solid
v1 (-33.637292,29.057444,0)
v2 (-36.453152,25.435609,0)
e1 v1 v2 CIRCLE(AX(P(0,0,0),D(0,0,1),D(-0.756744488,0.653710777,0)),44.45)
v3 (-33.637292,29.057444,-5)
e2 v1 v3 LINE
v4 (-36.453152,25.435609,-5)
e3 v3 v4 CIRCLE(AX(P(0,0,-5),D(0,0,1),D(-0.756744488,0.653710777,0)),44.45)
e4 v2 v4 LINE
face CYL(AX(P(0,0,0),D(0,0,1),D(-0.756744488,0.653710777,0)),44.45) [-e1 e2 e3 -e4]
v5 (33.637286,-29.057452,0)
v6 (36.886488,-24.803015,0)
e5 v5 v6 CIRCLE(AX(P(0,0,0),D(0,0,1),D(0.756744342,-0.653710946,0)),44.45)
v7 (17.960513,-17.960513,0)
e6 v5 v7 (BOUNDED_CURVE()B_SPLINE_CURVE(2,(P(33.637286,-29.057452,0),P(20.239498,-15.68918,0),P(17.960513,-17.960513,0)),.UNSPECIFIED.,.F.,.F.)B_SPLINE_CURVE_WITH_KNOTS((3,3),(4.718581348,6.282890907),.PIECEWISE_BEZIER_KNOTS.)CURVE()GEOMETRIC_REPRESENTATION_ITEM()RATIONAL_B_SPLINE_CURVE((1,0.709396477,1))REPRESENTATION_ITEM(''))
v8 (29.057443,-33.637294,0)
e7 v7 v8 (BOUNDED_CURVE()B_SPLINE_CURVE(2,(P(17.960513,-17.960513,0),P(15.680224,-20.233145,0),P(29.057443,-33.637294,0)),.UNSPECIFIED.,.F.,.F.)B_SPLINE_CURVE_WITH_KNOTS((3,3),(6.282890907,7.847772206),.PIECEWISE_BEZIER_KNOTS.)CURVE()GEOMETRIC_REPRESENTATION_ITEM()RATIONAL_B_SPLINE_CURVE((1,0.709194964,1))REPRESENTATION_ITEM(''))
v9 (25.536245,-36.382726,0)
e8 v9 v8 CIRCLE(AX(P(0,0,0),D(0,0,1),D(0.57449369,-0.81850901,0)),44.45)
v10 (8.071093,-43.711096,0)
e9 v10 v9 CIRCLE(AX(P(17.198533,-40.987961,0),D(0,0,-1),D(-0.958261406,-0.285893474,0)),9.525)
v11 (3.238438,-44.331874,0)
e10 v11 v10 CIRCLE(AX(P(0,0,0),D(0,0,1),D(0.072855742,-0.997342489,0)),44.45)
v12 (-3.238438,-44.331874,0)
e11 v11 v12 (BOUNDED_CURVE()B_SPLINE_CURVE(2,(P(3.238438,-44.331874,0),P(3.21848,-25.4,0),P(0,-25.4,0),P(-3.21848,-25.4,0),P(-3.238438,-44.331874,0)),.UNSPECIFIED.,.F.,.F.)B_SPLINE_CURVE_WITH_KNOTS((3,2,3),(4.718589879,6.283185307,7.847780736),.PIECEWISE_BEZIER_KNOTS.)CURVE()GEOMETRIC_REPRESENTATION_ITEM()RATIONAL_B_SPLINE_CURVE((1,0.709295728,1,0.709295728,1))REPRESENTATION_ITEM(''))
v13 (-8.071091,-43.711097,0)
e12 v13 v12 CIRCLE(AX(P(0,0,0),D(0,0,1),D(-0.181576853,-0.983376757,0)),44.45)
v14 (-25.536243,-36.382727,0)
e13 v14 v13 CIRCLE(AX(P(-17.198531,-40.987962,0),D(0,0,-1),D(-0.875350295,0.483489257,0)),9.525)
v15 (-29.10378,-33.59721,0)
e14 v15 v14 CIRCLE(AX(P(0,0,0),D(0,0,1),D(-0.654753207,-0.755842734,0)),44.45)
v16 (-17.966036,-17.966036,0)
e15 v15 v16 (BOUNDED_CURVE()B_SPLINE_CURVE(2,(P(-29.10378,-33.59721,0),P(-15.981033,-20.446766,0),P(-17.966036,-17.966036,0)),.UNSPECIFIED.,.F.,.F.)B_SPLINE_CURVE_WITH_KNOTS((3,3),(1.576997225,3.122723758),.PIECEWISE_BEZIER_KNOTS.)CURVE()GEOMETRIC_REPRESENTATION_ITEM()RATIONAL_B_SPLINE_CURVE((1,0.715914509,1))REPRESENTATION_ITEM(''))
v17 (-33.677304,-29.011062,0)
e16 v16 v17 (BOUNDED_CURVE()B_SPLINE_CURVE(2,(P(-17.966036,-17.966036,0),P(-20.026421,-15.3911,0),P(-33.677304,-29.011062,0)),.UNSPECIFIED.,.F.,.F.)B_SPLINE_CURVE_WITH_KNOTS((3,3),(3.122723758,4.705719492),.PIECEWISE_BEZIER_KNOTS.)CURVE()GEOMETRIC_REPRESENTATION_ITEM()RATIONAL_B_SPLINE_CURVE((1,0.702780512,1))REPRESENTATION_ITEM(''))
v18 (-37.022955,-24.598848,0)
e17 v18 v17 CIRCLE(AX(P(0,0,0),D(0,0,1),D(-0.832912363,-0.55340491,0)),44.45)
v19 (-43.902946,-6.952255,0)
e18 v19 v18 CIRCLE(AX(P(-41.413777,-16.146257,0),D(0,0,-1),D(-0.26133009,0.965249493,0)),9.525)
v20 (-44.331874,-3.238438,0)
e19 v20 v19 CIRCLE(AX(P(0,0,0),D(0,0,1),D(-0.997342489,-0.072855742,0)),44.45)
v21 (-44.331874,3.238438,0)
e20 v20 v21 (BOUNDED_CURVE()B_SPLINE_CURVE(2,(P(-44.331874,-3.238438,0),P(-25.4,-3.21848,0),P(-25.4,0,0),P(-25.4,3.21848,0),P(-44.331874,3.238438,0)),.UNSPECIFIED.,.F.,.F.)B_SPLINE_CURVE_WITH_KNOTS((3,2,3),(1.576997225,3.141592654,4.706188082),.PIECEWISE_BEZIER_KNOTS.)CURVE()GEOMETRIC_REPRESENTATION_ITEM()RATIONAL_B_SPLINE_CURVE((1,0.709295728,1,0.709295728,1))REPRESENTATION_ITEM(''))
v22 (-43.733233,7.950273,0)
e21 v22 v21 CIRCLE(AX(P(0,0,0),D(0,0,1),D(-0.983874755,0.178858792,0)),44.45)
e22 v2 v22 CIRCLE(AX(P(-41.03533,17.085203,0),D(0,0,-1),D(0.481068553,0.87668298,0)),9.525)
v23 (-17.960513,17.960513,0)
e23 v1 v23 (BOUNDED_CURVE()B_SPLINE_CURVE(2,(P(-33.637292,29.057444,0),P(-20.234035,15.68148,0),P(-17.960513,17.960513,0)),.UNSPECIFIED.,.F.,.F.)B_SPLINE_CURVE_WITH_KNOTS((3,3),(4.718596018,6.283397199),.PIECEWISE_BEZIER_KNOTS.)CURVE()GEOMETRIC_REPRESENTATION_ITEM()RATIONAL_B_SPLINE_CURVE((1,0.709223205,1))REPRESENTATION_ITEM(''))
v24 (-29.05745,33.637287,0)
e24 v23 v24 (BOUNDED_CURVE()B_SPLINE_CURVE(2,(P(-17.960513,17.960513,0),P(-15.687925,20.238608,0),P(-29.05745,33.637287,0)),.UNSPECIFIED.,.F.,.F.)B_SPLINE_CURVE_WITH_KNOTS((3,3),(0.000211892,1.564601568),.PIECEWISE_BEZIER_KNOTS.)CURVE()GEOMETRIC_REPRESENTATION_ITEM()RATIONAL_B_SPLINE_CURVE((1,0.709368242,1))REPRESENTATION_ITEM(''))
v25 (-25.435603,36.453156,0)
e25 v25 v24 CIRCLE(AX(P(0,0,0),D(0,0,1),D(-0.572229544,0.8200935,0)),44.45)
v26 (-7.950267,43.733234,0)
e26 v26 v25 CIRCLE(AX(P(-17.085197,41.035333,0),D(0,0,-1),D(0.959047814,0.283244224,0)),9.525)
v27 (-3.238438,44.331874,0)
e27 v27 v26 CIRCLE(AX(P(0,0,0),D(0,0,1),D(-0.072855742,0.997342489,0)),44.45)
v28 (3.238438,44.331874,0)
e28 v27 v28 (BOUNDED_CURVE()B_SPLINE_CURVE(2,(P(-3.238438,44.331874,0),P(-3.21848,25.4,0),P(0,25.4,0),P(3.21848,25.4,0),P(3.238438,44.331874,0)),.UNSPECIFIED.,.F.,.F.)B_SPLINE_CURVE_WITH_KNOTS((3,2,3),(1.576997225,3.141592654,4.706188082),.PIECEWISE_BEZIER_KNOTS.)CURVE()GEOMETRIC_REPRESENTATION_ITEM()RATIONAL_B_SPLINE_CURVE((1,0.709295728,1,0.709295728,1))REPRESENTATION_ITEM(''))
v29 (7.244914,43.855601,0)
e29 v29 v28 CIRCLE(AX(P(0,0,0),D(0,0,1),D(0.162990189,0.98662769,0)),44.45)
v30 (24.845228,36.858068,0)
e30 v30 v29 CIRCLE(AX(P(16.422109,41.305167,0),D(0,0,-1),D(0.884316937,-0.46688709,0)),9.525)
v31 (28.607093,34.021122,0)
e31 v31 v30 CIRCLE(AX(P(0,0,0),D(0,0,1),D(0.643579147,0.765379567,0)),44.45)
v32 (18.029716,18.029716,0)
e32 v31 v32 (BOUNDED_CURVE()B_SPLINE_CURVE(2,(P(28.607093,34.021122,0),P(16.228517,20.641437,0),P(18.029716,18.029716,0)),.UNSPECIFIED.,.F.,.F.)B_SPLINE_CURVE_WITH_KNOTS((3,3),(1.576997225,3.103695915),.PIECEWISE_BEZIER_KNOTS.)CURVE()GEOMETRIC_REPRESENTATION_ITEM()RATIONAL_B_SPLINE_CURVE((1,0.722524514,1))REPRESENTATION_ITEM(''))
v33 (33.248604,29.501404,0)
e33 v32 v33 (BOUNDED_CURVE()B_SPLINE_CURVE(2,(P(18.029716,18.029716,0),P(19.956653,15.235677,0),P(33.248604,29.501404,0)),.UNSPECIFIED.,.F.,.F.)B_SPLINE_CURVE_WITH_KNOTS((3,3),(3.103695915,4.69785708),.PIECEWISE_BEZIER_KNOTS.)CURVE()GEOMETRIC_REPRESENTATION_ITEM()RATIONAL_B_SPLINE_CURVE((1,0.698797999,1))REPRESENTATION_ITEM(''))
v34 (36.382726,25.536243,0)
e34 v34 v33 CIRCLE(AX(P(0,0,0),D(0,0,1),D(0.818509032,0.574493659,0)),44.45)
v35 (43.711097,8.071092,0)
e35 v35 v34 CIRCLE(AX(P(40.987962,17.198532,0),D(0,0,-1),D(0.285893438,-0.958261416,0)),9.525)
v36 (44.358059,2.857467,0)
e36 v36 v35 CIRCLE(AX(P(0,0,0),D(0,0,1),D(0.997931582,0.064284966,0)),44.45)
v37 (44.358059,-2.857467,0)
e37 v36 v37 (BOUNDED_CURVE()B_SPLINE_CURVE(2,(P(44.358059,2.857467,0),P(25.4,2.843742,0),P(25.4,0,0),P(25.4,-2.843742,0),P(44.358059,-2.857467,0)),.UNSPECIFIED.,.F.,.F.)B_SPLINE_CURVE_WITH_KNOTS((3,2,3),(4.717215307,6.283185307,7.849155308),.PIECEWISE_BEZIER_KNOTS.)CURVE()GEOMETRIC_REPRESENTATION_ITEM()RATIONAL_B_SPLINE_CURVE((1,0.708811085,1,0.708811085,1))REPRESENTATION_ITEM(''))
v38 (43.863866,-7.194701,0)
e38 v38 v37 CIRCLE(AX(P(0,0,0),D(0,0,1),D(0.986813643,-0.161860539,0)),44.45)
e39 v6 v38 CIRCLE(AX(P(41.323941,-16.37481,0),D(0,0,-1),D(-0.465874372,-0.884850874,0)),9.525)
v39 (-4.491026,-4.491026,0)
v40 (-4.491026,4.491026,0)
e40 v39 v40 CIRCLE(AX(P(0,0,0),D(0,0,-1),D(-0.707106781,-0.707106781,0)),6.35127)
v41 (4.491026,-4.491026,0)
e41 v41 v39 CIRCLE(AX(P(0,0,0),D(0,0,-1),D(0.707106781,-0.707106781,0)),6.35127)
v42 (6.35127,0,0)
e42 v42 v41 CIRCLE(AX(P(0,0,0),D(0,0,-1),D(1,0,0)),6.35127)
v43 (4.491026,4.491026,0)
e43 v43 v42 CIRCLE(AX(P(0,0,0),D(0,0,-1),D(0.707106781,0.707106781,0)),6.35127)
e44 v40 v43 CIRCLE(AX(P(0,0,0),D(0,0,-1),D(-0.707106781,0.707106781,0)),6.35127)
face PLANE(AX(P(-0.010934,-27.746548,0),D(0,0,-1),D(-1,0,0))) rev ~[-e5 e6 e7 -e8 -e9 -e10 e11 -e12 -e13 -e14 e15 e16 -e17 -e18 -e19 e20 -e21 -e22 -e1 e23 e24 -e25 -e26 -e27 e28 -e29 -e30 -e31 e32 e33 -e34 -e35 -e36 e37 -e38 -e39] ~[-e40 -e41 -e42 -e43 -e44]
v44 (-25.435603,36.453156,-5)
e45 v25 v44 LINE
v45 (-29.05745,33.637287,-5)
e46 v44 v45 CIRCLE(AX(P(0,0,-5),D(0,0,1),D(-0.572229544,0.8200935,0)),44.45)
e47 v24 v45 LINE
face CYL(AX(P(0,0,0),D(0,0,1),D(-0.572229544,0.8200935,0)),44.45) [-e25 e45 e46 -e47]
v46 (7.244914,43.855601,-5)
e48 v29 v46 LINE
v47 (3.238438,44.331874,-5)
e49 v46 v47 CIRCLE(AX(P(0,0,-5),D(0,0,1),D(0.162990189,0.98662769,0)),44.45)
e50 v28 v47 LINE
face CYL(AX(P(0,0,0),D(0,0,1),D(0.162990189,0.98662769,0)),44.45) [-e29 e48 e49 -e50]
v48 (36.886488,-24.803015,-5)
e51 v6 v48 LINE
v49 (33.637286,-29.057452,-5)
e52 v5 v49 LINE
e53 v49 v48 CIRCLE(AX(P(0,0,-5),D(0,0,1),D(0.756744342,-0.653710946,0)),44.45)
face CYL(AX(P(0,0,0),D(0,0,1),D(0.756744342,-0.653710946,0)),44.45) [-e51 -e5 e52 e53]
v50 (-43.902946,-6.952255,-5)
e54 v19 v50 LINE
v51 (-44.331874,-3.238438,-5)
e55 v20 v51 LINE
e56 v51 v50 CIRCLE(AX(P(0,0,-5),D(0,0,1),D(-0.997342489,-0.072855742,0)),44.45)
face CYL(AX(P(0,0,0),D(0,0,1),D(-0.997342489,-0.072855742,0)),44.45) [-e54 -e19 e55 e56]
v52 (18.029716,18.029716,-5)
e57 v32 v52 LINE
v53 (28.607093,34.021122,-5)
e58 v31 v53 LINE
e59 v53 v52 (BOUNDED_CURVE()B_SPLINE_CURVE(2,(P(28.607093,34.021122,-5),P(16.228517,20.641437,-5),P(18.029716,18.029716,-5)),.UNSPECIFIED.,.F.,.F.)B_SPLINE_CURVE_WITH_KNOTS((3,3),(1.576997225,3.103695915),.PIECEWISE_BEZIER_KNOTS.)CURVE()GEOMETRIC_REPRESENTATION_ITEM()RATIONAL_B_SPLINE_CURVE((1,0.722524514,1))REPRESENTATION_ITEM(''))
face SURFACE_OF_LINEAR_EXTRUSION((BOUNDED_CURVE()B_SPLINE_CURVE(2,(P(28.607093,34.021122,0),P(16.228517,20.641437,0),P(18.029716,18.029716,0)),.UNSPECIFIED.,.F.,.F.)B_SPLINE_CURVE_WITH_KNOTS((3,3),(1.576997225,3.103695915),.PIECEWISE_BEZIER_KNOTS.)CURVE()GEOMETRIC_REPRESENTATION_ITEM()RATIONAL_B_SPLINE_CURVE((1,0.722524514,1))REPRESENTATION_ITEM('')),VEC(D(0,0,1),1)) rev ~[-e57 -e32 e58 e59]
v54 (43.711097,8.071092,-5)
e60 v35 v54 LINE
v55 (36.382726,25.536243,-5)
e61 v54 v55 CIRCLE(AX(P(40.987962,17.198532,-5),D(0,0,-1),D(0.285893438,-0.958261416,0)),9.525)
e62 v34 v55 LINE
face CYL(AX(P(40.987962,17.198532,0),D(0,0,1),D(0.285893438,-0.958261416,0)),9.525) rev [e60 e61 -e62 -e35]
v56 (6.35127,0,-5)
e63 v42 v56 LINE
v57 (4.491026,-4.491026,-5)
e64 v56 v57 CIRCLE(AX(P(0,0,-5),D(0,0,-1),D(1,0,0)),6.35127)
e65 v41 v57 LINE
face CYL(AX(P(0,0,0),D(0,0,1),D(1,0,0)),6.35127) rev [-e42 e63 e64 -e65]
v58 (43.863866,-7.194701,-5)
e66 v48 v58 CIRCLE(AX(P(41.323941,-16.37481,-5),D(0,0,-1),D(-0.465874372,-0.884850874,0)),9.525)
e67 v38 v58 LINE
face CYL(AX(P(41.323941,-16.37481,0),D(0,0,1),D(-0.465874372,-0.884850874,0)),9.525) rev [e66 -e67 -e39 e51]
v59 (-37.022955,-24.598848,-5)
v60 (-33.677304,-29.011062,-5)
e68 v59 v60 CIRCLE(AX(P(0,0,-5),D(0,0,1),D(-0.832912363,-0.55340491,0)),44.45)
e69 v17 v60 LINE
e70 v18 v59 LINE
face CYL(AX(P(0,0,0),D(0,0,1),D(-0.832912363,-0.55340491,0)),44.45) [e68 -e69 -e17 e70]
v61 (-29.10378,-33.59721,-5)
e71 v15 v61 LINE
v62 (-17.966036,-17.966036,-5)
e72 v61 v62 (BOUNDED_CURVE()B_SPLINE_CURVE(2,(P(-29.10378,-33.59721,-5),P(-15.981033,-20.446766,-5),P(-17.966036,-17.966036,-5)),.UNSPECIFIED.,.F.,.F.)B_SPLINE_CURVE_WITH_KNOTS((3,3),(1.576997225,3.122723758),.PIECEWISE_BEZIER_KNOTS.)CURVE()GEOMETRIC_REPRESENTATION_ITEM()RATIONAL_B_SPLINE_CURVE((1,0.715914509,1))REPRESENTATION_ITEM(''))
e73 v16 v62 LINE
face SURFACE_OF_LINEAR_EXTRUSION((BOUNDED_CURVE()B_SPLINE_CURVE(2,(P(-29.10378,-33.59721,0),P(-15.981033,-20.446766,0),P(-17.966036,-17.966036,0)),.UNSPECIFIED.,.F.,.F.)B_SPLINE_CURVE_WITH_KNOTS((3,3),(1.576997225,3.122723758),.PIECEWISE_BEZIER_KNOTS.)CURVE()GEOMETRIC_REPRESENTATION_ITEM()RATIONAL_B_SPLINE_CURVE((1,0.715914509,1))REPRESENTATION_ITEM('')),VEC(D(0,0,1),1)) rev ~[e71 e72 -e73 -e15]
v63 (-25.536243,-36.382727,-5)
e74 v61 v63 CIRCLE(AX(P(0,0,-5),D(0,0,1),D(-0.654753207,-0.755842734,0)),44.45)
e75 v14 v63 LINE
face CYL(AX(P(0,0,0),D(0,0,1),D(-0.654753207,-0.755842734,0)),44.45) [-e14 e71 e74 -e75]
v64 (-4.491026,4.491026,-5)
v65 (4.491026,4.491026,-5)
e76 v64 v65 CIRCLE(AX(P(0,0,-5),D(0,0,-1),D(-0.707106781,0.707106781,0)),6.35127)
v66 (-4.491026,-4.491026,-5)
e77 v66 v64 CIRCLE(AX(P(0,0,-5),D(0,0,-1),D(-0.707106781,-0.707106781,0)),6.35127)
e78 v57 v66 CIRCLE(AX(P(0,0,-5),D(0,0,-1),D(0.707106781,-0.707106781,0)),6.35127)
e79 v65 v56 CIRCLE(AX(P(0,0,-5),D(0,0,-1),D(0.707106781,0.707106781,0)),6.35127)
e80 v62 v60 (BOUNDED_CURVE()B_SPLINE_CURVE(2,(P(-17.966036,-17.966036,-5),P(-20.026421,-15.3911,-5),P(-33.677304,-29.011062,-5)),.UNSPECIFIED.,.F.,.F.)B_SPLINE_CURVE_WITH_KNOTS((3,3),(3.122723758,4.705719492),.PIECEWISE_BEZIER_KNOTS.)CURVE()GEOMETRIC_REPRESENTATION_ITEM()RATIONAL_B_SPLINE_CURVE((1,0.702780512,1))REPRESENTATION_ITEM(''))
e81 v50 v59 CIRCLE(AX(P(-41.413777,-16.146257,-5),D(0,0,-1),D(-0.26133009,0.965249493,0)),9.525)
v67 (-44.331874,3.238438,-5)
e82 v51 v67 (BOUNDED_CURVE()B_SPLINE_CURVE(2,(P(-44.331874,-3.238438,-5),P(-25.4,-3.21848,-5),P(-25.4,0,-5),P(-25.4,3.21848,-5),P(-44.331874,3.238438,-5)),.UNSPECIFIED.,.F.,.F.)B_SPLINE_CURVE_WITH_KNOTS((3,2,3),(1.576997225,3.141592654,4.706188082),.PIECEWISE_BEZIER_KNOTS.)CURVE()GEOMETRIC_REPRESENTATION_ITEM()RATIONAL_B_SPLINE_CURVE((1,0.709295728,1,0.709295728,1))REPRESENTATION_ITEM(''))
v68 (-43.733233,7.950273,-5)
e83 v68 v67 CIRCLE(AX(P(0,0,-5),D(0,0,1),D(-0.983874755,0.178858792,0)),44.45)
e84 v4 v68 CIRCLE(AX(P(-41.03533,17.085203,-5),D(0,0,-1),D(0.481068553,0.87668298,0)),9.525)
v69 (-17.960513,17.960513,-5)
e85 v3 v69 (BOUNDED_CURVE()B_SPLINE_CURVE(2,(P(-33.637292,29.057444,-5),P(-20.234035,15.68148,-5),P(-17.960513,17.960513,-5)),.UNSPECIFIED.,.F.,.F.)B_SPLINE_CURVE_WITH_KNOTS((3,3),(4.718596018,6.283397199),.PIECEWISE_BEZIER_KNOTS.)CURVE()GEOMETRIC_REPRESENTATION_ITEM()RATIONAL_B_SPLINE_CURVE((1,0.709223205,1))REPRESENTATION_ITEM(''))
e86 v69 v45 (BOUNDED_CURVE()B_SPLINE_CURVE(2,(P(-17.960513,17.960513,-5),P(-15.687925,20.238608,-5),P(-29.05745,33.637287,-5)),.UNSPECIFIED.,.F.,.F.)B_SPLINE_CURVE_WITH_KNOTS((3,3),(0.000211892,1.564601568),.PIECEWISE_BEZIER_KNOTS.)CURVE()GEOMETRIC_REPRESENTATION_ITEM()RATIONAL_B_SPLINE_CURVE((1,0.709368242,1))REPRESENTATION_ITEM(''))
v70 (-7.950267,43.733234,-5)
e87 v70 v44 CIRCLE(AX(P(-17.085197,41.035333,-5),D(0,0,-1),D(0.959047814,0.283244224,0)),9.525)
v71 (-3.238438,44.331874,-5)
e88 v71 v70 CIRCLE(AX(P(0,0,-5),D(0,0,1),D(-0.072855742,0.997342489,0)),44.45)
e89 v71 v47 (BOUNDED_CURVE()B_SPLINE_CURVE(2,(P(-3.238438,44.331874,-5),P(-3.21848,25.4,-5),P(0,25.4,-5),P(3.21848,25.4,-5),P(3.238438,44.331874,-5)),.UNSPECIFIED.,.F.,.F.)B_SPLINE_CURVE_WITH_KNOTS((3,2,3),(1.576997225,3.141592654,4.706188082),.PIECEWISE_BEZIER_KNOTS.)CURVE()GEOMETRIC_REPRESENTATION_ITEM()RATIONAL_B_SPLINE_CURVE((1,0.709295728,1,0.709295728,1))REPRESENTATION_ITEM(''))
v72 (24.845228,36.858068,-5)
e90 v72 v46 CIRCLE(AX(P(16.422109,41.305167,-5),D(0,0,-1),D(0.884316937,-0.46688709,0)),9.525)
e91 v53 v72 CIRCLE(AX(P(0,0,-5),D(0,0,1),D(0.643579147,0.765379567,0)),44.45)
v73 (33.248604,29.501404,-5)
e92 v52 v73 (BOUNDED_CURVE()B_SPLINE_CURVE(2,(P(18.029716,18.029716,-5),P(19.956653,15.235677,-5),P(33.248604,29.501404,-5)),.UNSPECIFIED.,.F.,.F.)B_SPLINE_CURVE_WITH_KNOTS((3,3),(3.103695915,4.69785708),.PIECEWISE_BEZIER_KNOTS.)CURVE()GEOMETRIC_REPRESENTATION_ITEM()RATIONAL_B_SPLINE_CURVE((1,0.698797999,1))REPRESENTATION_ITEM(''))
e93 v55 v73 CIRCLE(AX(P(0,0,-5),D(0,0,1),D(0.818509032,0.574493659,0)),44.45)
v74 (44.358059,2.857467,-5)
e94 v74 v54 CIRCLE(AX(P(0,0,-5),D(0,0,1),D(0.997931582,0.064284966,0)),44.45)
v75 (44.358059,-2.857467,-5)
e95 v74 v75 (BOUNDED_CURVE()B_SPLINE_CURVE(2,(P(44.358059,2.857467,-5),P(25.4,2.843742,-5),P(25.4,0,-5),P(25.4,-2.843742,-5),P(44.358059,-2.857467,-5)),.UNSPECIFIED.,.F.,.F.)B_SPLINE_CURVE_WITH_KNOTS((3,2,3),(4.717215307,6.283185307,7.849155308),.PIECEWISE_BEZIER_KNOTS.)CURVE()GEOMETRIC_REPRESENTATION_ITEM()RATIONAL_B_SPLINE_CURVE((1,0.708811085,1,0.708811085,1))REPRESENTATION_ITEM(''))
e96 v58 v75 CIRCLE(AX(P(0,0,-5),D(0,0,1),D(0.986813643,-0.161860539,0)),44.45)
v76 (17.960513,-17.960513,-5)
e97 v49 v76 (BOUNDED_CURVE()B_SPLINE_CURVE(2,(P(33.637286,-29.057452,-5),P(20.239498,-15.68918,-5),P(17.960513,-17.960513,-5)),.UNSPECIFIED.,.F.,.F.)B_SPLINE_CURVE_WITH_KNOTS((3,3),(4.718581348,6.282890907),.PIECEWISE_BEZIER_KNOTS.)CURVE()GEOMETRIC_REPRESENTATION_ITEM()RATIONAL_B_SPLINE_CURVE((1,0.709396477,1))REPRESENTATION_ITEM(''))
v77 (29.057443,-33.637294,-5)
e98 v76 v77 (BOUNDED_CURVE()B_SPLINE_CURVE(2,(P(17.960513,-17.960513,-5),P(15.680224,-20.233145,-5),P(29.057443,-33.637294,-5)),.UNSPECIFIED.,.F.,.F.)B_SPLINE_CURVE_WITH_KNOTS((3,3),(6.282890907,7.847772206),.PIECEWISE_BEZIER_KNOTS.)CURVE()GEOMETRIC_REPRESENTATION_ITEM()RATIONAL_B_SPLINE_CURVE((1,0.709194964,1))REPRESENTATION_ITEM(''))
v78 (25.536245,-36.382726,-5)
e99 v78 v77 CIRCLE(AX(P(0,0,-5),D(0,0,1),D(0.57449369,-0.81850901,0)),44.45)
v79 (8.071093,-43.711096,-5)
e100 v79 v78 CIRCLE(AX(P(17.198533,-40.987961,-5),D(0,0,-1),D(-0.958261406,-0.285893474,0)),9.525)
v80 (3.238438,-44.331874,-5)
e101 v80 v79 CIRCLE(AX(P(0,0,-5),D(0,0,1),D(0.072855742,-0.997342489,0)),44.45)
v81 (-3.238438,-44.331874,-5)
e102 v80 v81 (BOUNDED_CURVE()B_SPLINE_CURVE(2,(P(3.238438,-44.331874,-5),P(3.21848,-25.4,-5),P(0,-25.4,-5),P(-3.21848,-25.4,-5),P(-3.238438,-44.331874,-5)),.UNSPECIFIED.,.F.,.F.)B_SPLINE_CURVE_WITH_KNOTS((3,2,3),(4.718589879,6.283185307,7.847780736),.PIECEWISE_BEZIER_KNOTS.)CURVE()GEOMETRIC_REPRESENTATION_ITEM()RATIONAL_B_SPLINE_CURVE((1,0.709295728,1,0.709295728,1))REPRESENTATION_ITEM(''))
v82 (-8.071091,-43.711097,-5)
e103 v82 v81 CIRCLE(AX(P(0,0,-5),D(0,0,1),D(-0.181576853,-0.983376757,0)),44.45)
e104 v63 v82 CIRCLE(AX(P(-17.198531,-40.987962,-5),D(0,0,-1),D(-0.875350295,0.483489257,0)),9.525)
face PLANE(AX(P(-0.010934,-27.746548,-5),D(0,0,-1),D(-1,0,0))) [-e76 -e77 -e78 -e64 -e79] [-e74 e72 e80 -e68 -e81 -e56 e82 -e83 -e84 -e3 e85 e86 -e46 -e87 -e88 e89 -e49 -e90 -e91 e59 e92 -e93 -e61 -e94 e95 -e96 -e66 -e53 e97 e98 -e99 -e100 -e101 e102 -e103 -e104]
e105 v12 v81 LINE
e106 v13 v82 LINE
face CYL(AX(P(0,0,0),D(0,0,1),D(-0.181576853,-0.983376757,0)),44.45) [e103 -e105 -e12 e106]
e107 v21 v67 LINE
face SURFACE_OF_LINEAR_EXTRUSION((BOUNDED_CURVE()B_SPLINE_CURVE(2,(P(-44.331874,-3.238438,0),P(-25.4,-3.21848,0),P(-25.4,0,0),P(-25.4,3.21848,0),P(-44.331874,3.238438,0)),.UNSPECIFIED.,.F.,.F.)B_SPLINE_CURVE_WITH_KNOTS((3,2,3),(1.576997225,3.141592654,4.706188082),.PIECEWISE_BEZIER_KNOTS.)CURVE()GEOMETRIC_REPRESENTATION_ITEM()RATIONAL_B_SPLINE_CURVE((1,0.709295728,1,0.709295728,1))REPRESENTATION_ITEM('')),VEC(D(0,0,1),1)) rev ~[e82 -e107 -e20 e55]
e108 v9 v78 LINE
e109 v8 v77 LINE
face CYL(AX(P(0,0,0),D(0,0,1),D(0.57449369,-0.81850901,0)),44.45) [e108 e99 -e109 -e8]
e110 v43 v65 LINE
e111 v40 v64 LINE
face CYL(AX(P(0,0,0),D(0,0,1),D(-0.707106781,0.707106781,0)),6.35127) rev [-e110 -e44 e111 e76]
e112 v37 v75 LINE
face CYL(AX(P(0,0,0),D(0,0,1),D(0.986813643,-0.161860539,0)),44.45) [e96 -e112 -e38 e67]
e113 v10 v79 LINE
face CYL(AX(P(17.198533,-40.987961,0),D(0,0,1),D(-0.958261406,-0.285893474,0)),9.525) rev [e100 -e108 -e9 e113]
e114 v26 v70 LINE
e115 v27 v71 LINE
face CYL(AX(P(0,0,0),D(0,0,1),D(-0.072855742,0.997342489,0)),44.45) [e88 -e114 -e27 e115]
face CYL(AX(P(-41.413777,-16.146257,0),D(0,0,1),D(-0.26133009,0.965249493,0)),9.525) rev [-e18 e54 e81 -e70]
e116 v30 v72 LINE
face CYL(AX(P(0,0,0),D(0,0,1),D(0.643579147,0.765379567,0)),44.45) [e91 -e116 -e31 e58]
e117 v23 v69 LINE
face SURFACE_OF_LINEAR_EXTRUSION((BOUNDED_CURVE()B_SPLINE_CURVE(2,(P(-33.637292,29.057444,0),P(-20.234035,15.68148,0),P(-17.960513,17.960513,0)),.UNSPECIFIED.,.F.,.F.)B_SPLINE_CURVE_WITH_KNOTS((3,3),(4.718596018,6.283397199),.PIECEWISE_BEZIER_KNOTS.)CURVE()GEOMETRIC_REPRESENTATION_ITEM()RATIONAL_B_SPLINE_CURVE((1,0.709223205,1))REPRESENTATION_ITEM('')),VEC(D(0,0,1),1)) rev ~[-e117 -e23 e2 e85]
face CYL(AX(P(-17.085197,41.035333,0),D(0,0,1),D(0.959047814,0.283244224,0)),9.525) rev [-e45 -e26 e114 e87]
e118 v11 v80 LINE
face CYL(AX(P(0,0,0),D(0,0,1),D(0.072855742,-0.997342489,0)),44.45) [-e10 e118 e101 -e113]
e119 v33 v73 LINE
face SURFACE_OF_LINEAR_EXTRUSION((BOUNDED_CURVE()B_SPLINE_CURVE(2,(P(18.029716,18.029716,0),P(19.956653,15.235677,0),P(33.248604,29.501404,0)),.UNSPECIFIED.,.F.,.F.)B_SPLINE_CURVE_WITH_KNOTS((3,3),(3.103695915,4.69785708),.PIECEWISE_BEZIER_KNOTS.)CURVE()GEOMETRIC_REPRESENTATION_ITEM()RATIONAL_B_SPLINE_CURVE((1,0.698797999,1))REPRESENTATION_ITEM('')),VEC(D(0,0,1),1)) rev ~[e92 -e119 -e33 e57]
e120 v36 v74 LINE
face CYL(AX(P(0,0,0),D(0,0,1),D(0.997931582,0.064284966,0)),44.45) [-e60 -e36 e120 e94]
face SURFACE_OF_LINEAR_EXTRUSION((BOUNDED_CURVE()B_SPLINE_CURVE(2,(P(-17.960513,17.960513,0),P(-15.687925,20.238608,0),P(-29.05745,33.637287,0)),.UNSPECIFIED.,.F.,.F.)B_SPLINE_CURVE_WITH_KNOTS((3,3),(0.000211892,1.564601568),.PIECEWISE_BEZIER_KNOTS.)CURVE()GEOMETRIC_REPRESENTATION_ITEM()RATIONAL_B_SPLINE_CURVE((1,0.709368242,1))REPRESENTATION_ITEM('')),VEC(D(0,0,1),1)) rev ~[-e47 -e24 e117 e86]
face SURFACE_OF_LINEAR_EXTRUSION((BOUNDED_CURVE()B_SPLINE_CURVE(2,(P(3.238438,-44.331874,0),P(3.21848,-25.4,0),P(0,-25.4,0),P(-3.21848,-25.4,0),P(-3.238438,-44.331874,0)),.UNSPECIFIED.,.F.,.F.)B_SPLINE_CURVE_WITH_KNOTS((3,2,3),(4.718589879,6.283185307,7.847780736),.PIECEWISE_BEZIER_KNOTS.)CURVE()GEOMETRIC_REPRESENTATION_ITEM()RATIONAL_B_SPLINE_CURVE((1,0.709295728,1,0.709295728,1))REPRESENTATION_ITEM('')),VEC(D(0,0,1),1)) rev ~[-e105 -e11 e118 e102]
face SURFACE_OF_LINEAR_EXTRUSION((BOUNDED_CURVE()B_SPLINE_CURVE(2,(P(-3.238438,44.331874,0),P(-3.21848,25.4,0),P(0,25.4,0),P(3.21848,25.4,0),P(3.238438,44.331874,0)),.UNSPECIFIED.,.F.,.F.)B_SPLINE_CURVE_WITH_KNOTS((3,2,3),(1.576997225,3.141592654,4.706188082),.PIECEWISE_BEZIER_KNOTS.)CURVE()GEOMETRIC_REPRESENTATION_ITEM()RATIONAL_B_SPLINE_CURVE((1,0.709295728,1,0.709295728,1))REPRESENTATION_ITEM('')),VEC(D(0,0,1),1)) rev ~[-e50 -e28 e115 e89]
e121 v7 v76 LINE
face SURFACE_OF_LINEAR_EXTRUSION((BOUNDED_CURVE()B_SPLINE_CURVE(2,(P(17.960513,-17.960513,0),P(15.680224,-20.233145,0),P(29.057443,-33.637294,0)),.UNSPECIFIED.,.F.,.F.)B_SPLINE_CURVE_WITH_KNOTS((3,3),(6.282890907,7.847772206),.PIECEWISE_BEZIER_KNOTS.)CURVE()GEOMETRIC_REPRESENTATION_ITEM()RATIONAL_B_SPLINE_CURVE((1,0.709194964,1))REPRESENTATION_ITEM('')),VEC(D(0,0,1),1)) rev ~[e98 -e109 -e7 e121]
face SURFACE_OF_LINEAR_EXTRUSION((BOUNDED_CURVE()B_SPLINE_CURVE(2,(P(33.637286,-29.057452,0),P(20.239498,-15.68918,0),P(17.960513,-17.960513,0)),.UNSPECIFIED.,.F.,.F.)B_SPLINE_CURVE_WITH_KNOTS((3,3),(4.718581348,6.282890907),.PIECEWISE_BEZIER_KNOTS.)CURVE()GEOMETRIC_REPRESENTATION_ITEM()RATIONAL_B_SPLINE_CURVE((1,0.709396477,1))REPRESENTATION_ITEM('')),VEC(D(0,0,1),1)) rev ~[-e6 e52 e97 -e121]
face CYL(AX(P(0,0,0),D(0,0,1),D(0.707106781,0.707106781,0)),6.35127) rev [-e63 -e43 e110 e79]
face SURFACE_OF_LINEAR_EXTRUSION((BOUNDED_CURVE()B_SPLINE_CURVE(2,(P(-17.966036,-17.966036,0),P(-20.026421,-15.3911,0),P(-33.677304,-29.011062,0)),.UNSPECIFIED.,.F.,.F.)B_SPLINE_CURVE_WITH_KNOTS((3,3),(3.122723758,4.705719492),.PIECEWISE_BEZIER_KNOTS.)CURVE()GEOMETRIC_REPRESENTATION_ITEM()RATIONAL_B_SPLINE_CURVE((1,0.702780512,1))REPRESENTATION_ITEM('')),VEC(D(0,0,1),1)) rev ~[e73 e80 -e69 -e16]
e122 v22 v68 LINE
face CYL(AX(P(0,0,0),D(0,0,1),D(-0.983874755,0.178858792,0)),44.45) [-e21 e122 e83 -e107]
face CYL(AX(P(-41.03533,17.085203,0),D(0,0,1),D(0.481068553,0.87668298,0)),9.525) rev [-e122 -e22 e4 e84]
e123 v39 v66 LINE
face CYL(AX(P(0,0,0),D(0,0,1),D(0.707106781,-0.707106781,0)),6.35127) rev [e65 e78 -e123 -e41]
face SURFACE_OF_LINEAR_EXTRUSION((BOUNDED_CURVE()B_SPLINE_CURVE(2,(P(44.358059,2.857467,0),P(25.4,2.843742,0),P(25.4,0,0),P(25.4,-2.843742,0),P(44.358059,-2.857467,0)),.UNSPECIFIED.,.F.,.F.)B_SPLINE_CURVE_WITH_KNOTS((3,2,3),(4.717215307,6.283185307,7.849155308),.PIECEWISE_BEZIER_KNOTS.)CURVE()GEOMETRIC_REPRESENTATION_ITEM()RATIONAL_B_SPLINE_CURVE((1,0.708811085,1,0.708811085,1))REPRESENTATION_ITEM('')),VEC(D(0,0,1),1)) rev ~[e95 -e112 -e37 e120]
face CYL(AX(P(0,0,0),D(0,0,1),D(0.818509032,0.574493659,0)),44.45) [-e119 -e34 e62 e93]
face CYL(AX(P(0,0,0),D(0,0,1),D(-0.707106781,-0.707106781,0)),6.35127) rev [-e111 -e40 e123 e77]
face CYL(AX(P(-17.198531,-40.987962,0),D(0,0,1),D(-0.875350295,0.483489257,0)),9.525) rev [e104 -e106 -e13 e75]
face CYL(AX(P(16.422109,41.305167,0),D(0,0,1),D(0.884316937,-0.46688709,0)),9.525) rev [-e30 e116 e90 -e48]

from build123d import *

# Parameters (mm, degrees)
F1_DEPTH = 5


with BuildPart() as f1:
    # F0 (on Top) → F1 (new body)
    with BuildSketch(Plane.XY):
        with BuildLine():
            add(Edge.make_bspline(
                [(17.960512809, -17.960512809), (15.6802243454, -20.2331445456), (29.0574428343, -33.6372935287)],
                knots=[6.282890907, 6.282890907, 6.282890907, 7.8477722056, 7.8477722056, 7.8477722056], degree=2, weights=[1, 0.7091949639, 1]))
            Line((17.960512809, -17.960512809), (4.4910260861, -4.4910260861))
            ThreePointArc((4.4910260861, -4.4910260861), (0, -6.35127), (-4.4910260861, -4.4910260861))
            Line((-4.4910260861, -4.4910260861), (-17.9660364379, -17.9660364379))
            add(Edge.make_bspline(
                [(-29.1037800474, -33.5972095114), (-15.9810329654, -20.44676612), (-17.9660364379, -17.9660364379)],
                knots=[1.576997225, 1.576997225, 1.576997225, 3.1227237577, 3.1227237577, 3.1227237577], degree=2, weights=[1, 0.7159145089, 1]))
            ThreePointArc((-29.1037800474, -33.5972095114), (-27.3554893491, -35.0354064122), (-25.5362426788, -36.3827268061))
            ThreePointArc((-25.5362426788, -36.3827268061), (-13.5131315962, -32.2048272696), (-8.0710910961, -43.7110968579))
            ThreePointArc((-8.0710910961, -43.7110968579), (-5.6632765753, -44.0877511156), (-3.2384377382, -44.3318736466))
            add(Edge.make_bspline(
                [(3.2384377382, -44.3318736466), (3.2184803968, -25.4), (0, -25.4), (-3.2184803968, -25.4), (-3.2384377382, -44.3318736466)],
                knots=[4.7185898786, 4.7185898786, 4.7185898786, 6.2831853072, 6.2831853072, 7.8477807358, 7.8477807358, 7.8477807358], degree=2, weights=[1, 0.7092957276, 1, 0.7092957276, 1]))
            ThreePointArc((3.2384377382, -44.3318736466), (5.6632776972, -44.0877509715), (8.0710933206, -43.7110964471))
            ThreePointArc((8.0710933206, -43.7110964471), (13.5131332351, -32.2048265819), (25.5362445304, -36.3827255066))
            ThreePointArc((25.5362445304, -36.3827255066), (27.3313377683, -35.0542504669), (29.0574428343, -33.6372935287))
        make_face()
        with BuildLine():
            add(Edge.make_bspline(
                [(44.3580588388, 2.8574667196), (25.4, 2.843741946), (25.4, 0), (25.4, -2.843741946), (44.3580588388, -2.8574667196)],
                knots=[4.7172153068, 4.7172153068, 4.7172153068, 6.2831853072, 6.2831853072, 7.8491553076, 7.8491553076, 7.8491553076], degree=2, weights=[1, 0.7088110847, 1, 0.7088110847, 1]))
            ThreePointArc((44.3580588388, 2.8574667196), (44.1116709386, 5.4738457236), (43.7110967552, 8.0710916523))
            ThreePointArc((43.7110967552, 8.0710916523), (32.2048270977, 13.5131320059), (36.3827264812, 25.5362431418))
            ThreePointArc((36.3827264812, 25.5362431418), (34.8720687583, 27.5634054594), (33.2486042571, 29.5014036099))
            add(Edge.make_bspline(
                [(18.0297160686, 18.0297160686), (19.9566530018, 15.2356768134), (33.2486042571, 29.5014036099)],
                knots=[3.1036959155, 3.1036959155, 3.1036959155, 4.6978570798, 4.6978570798, 4.6978570798], degree=2, weights=[1, 0.6987979995, 1]))
            Line((18.0297160686, 18.0297160686), (4.4910260861, 4.4910260861))
            ThreePointArc((4.4910260861, 4.4910260861), (5.8678083585, 2.4305258035), (6.35127, 0))
            ThreePointArc((6.35127, 0), (5.8678083585, -2.4305258035), (4.4910260861, -4.4910260861))
            Line((4.4910260861, -4.4910260861), (17.960512809, -17.960512809))
            add(Edge.make_bspline(
                [(33.6372860032, -29.0574515459), (20.2394978879, -15.6891800806), (17.960512809, -17.960512809)],
                knots=[4.7185813484, 4.7185813484, 4.7185813484, 6.282890907, 6.282890907, 6.282890907], degree=2, weights=[1, 0.7093964769, 1]))
            ThreePointArc((33.6372860032, -29.0574515459), (35.3259920878, -26.9791916672), (36.8864875406, -24.803014674))
            ThreePointArc((36.8864875406, -24.803014674), (32.4688107335, -12.8659222194), (43.8638664264, -7.1947009755))
            ThreePointArc((43.8638664264, -7.1947009755), (44.1642380736, -5.0321541488), (44.3580588388, -2.8574667196))
        make_face()
        with BuildLine():
            Line((4.4910260861, 4.4910260861), (18.0297160686, 18.0297160686))
            add(Edge.make_bspline(
                [(28.6070931031, 34.0211217362), (16.2285166945, 20.6414371225), (18.0297160686, 18.0297160686)],
                knots=[1.576997225, 1.576997225, 1.576997225, 3.1036959155, 3.1036959155, 3.1036959155], degree=2, weights=[1, 0.7225245136, 1]))
            ThreePointArc((28.6070931031, 34.0211217362), (26.7637763288, 35.4894741666), (24.8452280049, 36.8580675753))
            ThreePointArc((24.8452280049, 36.8580675753), (12.9030857851, 32.4540598727), (7.2449139151, 43.8556008095))
            ThreePointArc((7.2449139151, 43.8556008095), (5.247082468, 44.1392186788), (3.2384377382, 44.3318736466))
            add(Edge.make_bspline(
                [(-3.2384377382, 44.3318736466), (-3.2184803968, 25.4), (0, 25.4), (3.2184803968, 25.4), (3.2384377382, 44.3318736466)],
                knots=[1.576997225, 1.576997225, 1.576997225, 3.1415926536, 3.1415926536, 4.7061880822, 4.7061880822, 4.7061880822], degree=2, weights=[1, 0.7092957276, 1, 0.7092957276, 1]))
            ThreePointArc((-3.2384377382, 44.3318736466), (-5.6023539167, 44.0955341343), (-7.950266755, 43.7332340277))
            ThreePointArc((-7.950266755, 43.7332340277), (-13.4240835005, 32.2420471926), (-25.4356032496, 36.4531560682))
            ThreePointArc((-25.4356032496, 36.4531560682), (-27.2828792759, 35.091979118), (-29.0574503266, 33.6372870565))
            add(Edge.make_bspline(
                [(-17.9605125358, 17.9605125358), (-15.6879254577, 20.2386077571), (-29.0574503266, 33.6372870565)],
                knots=[0.0002118916, 0.0002118916, 0.0002118916, 1.5646015681, 1.5646015681, 1.5646015681], degree=2, weights=[1, 0.7093682423, 1]))
            Line((-17.9605125358, 17.9605125358), (-4.4910260861, 4.4910260861))
            ThreePointArc((-4.4910260861, 4.4910260861), (0, 6.35127), (4.4910260861, 4.4910260861))
        make_face()
        with BuildLine():
            ThreePointArc((-4.4910260861, -4.4910260861), (-6.35127, 0), (-4.4910260861, 4.4910260861))
            Line((-4.4910260861, 4.4910260861), (-17.9605125358, 17.9605125358))
            add(Edge.make_bspline(
                [(-33.6372924729, 29.0574440565), (-20.2340350033, 15.6814796579), (-17.9605125358, 17.9605125358)],
                knots=[4.7185960181, 4.7185960181, 4.7185960181, 6.2833971988, 6.2833971988, 6.2833971988], degree=2, weights=[1, 0.7092232054, 1]))
            ThreePointArc((-33.6372924729, 29.0574440565), (-35.0919796241, 27.2828786249), (-36.4531522707, 25.4356086919))
            ThreePointArc((-36.4531522707, 25.4356086919), (-32.2420451884, 13.4240883142), (-43.7332328408, 7.9502732843))
            ThreePointArc((-43.7332328408, 7.9502732843), (-44.0955337161, 5.6023572084), (-44.3318736466, 3.2384377382))
            add(Edge.make_bspline(
                [(-44.3318736466, -3.2384377382), (-25.4, -3.2184803968), (-25.4, 0), (-25.4, 3.2184803968), (-44.3318736466, 3.2384377382)],
                knots=[1.576997225, 1.576997225, 1.576997225, 3.1415926536, 3.1415926536, 4.7061880822, 4.7061880822, 4.7061880822], degree=2, weights=[1, 0.7092957276, 1, 0.7092957276, 1]))
            ThreePointArc((-44.3318736466, -3.2384377382), (-44.1564712104, -5.0998578651), (-43.9029457794, -6.9522551658))
            ThreePointArc((-43.9029457794, -6.9522551658), (-32.5393959561, -12.686344462), (-37.0229545531, -24.598848269))
            ThreePointArc((-37.0229545531, -24.598848269), (-35.4189008641, -26.8571026281), (-33.6773037539, -29.011061888))
            add(Edge.make_bspline(
                [(-17.9660364379, -17.9660364379), (-20.0264213053, -15.3910999362), (-33.6773037539, -29.011061888)],
                knots=[3.1227237577, 3.1227237577, 3.1227237577, 4.7057194921, 4.7057194921, 4.7057194921], degree=2, weights=[1, 0.7027805116, 1]))
            Line((-17.9660364379, -17.9660364379), (-4.4910260861, -4.4910260861))
        make_face()
    extrude(amount=-F1_DEPTH)


solid = f1.part
